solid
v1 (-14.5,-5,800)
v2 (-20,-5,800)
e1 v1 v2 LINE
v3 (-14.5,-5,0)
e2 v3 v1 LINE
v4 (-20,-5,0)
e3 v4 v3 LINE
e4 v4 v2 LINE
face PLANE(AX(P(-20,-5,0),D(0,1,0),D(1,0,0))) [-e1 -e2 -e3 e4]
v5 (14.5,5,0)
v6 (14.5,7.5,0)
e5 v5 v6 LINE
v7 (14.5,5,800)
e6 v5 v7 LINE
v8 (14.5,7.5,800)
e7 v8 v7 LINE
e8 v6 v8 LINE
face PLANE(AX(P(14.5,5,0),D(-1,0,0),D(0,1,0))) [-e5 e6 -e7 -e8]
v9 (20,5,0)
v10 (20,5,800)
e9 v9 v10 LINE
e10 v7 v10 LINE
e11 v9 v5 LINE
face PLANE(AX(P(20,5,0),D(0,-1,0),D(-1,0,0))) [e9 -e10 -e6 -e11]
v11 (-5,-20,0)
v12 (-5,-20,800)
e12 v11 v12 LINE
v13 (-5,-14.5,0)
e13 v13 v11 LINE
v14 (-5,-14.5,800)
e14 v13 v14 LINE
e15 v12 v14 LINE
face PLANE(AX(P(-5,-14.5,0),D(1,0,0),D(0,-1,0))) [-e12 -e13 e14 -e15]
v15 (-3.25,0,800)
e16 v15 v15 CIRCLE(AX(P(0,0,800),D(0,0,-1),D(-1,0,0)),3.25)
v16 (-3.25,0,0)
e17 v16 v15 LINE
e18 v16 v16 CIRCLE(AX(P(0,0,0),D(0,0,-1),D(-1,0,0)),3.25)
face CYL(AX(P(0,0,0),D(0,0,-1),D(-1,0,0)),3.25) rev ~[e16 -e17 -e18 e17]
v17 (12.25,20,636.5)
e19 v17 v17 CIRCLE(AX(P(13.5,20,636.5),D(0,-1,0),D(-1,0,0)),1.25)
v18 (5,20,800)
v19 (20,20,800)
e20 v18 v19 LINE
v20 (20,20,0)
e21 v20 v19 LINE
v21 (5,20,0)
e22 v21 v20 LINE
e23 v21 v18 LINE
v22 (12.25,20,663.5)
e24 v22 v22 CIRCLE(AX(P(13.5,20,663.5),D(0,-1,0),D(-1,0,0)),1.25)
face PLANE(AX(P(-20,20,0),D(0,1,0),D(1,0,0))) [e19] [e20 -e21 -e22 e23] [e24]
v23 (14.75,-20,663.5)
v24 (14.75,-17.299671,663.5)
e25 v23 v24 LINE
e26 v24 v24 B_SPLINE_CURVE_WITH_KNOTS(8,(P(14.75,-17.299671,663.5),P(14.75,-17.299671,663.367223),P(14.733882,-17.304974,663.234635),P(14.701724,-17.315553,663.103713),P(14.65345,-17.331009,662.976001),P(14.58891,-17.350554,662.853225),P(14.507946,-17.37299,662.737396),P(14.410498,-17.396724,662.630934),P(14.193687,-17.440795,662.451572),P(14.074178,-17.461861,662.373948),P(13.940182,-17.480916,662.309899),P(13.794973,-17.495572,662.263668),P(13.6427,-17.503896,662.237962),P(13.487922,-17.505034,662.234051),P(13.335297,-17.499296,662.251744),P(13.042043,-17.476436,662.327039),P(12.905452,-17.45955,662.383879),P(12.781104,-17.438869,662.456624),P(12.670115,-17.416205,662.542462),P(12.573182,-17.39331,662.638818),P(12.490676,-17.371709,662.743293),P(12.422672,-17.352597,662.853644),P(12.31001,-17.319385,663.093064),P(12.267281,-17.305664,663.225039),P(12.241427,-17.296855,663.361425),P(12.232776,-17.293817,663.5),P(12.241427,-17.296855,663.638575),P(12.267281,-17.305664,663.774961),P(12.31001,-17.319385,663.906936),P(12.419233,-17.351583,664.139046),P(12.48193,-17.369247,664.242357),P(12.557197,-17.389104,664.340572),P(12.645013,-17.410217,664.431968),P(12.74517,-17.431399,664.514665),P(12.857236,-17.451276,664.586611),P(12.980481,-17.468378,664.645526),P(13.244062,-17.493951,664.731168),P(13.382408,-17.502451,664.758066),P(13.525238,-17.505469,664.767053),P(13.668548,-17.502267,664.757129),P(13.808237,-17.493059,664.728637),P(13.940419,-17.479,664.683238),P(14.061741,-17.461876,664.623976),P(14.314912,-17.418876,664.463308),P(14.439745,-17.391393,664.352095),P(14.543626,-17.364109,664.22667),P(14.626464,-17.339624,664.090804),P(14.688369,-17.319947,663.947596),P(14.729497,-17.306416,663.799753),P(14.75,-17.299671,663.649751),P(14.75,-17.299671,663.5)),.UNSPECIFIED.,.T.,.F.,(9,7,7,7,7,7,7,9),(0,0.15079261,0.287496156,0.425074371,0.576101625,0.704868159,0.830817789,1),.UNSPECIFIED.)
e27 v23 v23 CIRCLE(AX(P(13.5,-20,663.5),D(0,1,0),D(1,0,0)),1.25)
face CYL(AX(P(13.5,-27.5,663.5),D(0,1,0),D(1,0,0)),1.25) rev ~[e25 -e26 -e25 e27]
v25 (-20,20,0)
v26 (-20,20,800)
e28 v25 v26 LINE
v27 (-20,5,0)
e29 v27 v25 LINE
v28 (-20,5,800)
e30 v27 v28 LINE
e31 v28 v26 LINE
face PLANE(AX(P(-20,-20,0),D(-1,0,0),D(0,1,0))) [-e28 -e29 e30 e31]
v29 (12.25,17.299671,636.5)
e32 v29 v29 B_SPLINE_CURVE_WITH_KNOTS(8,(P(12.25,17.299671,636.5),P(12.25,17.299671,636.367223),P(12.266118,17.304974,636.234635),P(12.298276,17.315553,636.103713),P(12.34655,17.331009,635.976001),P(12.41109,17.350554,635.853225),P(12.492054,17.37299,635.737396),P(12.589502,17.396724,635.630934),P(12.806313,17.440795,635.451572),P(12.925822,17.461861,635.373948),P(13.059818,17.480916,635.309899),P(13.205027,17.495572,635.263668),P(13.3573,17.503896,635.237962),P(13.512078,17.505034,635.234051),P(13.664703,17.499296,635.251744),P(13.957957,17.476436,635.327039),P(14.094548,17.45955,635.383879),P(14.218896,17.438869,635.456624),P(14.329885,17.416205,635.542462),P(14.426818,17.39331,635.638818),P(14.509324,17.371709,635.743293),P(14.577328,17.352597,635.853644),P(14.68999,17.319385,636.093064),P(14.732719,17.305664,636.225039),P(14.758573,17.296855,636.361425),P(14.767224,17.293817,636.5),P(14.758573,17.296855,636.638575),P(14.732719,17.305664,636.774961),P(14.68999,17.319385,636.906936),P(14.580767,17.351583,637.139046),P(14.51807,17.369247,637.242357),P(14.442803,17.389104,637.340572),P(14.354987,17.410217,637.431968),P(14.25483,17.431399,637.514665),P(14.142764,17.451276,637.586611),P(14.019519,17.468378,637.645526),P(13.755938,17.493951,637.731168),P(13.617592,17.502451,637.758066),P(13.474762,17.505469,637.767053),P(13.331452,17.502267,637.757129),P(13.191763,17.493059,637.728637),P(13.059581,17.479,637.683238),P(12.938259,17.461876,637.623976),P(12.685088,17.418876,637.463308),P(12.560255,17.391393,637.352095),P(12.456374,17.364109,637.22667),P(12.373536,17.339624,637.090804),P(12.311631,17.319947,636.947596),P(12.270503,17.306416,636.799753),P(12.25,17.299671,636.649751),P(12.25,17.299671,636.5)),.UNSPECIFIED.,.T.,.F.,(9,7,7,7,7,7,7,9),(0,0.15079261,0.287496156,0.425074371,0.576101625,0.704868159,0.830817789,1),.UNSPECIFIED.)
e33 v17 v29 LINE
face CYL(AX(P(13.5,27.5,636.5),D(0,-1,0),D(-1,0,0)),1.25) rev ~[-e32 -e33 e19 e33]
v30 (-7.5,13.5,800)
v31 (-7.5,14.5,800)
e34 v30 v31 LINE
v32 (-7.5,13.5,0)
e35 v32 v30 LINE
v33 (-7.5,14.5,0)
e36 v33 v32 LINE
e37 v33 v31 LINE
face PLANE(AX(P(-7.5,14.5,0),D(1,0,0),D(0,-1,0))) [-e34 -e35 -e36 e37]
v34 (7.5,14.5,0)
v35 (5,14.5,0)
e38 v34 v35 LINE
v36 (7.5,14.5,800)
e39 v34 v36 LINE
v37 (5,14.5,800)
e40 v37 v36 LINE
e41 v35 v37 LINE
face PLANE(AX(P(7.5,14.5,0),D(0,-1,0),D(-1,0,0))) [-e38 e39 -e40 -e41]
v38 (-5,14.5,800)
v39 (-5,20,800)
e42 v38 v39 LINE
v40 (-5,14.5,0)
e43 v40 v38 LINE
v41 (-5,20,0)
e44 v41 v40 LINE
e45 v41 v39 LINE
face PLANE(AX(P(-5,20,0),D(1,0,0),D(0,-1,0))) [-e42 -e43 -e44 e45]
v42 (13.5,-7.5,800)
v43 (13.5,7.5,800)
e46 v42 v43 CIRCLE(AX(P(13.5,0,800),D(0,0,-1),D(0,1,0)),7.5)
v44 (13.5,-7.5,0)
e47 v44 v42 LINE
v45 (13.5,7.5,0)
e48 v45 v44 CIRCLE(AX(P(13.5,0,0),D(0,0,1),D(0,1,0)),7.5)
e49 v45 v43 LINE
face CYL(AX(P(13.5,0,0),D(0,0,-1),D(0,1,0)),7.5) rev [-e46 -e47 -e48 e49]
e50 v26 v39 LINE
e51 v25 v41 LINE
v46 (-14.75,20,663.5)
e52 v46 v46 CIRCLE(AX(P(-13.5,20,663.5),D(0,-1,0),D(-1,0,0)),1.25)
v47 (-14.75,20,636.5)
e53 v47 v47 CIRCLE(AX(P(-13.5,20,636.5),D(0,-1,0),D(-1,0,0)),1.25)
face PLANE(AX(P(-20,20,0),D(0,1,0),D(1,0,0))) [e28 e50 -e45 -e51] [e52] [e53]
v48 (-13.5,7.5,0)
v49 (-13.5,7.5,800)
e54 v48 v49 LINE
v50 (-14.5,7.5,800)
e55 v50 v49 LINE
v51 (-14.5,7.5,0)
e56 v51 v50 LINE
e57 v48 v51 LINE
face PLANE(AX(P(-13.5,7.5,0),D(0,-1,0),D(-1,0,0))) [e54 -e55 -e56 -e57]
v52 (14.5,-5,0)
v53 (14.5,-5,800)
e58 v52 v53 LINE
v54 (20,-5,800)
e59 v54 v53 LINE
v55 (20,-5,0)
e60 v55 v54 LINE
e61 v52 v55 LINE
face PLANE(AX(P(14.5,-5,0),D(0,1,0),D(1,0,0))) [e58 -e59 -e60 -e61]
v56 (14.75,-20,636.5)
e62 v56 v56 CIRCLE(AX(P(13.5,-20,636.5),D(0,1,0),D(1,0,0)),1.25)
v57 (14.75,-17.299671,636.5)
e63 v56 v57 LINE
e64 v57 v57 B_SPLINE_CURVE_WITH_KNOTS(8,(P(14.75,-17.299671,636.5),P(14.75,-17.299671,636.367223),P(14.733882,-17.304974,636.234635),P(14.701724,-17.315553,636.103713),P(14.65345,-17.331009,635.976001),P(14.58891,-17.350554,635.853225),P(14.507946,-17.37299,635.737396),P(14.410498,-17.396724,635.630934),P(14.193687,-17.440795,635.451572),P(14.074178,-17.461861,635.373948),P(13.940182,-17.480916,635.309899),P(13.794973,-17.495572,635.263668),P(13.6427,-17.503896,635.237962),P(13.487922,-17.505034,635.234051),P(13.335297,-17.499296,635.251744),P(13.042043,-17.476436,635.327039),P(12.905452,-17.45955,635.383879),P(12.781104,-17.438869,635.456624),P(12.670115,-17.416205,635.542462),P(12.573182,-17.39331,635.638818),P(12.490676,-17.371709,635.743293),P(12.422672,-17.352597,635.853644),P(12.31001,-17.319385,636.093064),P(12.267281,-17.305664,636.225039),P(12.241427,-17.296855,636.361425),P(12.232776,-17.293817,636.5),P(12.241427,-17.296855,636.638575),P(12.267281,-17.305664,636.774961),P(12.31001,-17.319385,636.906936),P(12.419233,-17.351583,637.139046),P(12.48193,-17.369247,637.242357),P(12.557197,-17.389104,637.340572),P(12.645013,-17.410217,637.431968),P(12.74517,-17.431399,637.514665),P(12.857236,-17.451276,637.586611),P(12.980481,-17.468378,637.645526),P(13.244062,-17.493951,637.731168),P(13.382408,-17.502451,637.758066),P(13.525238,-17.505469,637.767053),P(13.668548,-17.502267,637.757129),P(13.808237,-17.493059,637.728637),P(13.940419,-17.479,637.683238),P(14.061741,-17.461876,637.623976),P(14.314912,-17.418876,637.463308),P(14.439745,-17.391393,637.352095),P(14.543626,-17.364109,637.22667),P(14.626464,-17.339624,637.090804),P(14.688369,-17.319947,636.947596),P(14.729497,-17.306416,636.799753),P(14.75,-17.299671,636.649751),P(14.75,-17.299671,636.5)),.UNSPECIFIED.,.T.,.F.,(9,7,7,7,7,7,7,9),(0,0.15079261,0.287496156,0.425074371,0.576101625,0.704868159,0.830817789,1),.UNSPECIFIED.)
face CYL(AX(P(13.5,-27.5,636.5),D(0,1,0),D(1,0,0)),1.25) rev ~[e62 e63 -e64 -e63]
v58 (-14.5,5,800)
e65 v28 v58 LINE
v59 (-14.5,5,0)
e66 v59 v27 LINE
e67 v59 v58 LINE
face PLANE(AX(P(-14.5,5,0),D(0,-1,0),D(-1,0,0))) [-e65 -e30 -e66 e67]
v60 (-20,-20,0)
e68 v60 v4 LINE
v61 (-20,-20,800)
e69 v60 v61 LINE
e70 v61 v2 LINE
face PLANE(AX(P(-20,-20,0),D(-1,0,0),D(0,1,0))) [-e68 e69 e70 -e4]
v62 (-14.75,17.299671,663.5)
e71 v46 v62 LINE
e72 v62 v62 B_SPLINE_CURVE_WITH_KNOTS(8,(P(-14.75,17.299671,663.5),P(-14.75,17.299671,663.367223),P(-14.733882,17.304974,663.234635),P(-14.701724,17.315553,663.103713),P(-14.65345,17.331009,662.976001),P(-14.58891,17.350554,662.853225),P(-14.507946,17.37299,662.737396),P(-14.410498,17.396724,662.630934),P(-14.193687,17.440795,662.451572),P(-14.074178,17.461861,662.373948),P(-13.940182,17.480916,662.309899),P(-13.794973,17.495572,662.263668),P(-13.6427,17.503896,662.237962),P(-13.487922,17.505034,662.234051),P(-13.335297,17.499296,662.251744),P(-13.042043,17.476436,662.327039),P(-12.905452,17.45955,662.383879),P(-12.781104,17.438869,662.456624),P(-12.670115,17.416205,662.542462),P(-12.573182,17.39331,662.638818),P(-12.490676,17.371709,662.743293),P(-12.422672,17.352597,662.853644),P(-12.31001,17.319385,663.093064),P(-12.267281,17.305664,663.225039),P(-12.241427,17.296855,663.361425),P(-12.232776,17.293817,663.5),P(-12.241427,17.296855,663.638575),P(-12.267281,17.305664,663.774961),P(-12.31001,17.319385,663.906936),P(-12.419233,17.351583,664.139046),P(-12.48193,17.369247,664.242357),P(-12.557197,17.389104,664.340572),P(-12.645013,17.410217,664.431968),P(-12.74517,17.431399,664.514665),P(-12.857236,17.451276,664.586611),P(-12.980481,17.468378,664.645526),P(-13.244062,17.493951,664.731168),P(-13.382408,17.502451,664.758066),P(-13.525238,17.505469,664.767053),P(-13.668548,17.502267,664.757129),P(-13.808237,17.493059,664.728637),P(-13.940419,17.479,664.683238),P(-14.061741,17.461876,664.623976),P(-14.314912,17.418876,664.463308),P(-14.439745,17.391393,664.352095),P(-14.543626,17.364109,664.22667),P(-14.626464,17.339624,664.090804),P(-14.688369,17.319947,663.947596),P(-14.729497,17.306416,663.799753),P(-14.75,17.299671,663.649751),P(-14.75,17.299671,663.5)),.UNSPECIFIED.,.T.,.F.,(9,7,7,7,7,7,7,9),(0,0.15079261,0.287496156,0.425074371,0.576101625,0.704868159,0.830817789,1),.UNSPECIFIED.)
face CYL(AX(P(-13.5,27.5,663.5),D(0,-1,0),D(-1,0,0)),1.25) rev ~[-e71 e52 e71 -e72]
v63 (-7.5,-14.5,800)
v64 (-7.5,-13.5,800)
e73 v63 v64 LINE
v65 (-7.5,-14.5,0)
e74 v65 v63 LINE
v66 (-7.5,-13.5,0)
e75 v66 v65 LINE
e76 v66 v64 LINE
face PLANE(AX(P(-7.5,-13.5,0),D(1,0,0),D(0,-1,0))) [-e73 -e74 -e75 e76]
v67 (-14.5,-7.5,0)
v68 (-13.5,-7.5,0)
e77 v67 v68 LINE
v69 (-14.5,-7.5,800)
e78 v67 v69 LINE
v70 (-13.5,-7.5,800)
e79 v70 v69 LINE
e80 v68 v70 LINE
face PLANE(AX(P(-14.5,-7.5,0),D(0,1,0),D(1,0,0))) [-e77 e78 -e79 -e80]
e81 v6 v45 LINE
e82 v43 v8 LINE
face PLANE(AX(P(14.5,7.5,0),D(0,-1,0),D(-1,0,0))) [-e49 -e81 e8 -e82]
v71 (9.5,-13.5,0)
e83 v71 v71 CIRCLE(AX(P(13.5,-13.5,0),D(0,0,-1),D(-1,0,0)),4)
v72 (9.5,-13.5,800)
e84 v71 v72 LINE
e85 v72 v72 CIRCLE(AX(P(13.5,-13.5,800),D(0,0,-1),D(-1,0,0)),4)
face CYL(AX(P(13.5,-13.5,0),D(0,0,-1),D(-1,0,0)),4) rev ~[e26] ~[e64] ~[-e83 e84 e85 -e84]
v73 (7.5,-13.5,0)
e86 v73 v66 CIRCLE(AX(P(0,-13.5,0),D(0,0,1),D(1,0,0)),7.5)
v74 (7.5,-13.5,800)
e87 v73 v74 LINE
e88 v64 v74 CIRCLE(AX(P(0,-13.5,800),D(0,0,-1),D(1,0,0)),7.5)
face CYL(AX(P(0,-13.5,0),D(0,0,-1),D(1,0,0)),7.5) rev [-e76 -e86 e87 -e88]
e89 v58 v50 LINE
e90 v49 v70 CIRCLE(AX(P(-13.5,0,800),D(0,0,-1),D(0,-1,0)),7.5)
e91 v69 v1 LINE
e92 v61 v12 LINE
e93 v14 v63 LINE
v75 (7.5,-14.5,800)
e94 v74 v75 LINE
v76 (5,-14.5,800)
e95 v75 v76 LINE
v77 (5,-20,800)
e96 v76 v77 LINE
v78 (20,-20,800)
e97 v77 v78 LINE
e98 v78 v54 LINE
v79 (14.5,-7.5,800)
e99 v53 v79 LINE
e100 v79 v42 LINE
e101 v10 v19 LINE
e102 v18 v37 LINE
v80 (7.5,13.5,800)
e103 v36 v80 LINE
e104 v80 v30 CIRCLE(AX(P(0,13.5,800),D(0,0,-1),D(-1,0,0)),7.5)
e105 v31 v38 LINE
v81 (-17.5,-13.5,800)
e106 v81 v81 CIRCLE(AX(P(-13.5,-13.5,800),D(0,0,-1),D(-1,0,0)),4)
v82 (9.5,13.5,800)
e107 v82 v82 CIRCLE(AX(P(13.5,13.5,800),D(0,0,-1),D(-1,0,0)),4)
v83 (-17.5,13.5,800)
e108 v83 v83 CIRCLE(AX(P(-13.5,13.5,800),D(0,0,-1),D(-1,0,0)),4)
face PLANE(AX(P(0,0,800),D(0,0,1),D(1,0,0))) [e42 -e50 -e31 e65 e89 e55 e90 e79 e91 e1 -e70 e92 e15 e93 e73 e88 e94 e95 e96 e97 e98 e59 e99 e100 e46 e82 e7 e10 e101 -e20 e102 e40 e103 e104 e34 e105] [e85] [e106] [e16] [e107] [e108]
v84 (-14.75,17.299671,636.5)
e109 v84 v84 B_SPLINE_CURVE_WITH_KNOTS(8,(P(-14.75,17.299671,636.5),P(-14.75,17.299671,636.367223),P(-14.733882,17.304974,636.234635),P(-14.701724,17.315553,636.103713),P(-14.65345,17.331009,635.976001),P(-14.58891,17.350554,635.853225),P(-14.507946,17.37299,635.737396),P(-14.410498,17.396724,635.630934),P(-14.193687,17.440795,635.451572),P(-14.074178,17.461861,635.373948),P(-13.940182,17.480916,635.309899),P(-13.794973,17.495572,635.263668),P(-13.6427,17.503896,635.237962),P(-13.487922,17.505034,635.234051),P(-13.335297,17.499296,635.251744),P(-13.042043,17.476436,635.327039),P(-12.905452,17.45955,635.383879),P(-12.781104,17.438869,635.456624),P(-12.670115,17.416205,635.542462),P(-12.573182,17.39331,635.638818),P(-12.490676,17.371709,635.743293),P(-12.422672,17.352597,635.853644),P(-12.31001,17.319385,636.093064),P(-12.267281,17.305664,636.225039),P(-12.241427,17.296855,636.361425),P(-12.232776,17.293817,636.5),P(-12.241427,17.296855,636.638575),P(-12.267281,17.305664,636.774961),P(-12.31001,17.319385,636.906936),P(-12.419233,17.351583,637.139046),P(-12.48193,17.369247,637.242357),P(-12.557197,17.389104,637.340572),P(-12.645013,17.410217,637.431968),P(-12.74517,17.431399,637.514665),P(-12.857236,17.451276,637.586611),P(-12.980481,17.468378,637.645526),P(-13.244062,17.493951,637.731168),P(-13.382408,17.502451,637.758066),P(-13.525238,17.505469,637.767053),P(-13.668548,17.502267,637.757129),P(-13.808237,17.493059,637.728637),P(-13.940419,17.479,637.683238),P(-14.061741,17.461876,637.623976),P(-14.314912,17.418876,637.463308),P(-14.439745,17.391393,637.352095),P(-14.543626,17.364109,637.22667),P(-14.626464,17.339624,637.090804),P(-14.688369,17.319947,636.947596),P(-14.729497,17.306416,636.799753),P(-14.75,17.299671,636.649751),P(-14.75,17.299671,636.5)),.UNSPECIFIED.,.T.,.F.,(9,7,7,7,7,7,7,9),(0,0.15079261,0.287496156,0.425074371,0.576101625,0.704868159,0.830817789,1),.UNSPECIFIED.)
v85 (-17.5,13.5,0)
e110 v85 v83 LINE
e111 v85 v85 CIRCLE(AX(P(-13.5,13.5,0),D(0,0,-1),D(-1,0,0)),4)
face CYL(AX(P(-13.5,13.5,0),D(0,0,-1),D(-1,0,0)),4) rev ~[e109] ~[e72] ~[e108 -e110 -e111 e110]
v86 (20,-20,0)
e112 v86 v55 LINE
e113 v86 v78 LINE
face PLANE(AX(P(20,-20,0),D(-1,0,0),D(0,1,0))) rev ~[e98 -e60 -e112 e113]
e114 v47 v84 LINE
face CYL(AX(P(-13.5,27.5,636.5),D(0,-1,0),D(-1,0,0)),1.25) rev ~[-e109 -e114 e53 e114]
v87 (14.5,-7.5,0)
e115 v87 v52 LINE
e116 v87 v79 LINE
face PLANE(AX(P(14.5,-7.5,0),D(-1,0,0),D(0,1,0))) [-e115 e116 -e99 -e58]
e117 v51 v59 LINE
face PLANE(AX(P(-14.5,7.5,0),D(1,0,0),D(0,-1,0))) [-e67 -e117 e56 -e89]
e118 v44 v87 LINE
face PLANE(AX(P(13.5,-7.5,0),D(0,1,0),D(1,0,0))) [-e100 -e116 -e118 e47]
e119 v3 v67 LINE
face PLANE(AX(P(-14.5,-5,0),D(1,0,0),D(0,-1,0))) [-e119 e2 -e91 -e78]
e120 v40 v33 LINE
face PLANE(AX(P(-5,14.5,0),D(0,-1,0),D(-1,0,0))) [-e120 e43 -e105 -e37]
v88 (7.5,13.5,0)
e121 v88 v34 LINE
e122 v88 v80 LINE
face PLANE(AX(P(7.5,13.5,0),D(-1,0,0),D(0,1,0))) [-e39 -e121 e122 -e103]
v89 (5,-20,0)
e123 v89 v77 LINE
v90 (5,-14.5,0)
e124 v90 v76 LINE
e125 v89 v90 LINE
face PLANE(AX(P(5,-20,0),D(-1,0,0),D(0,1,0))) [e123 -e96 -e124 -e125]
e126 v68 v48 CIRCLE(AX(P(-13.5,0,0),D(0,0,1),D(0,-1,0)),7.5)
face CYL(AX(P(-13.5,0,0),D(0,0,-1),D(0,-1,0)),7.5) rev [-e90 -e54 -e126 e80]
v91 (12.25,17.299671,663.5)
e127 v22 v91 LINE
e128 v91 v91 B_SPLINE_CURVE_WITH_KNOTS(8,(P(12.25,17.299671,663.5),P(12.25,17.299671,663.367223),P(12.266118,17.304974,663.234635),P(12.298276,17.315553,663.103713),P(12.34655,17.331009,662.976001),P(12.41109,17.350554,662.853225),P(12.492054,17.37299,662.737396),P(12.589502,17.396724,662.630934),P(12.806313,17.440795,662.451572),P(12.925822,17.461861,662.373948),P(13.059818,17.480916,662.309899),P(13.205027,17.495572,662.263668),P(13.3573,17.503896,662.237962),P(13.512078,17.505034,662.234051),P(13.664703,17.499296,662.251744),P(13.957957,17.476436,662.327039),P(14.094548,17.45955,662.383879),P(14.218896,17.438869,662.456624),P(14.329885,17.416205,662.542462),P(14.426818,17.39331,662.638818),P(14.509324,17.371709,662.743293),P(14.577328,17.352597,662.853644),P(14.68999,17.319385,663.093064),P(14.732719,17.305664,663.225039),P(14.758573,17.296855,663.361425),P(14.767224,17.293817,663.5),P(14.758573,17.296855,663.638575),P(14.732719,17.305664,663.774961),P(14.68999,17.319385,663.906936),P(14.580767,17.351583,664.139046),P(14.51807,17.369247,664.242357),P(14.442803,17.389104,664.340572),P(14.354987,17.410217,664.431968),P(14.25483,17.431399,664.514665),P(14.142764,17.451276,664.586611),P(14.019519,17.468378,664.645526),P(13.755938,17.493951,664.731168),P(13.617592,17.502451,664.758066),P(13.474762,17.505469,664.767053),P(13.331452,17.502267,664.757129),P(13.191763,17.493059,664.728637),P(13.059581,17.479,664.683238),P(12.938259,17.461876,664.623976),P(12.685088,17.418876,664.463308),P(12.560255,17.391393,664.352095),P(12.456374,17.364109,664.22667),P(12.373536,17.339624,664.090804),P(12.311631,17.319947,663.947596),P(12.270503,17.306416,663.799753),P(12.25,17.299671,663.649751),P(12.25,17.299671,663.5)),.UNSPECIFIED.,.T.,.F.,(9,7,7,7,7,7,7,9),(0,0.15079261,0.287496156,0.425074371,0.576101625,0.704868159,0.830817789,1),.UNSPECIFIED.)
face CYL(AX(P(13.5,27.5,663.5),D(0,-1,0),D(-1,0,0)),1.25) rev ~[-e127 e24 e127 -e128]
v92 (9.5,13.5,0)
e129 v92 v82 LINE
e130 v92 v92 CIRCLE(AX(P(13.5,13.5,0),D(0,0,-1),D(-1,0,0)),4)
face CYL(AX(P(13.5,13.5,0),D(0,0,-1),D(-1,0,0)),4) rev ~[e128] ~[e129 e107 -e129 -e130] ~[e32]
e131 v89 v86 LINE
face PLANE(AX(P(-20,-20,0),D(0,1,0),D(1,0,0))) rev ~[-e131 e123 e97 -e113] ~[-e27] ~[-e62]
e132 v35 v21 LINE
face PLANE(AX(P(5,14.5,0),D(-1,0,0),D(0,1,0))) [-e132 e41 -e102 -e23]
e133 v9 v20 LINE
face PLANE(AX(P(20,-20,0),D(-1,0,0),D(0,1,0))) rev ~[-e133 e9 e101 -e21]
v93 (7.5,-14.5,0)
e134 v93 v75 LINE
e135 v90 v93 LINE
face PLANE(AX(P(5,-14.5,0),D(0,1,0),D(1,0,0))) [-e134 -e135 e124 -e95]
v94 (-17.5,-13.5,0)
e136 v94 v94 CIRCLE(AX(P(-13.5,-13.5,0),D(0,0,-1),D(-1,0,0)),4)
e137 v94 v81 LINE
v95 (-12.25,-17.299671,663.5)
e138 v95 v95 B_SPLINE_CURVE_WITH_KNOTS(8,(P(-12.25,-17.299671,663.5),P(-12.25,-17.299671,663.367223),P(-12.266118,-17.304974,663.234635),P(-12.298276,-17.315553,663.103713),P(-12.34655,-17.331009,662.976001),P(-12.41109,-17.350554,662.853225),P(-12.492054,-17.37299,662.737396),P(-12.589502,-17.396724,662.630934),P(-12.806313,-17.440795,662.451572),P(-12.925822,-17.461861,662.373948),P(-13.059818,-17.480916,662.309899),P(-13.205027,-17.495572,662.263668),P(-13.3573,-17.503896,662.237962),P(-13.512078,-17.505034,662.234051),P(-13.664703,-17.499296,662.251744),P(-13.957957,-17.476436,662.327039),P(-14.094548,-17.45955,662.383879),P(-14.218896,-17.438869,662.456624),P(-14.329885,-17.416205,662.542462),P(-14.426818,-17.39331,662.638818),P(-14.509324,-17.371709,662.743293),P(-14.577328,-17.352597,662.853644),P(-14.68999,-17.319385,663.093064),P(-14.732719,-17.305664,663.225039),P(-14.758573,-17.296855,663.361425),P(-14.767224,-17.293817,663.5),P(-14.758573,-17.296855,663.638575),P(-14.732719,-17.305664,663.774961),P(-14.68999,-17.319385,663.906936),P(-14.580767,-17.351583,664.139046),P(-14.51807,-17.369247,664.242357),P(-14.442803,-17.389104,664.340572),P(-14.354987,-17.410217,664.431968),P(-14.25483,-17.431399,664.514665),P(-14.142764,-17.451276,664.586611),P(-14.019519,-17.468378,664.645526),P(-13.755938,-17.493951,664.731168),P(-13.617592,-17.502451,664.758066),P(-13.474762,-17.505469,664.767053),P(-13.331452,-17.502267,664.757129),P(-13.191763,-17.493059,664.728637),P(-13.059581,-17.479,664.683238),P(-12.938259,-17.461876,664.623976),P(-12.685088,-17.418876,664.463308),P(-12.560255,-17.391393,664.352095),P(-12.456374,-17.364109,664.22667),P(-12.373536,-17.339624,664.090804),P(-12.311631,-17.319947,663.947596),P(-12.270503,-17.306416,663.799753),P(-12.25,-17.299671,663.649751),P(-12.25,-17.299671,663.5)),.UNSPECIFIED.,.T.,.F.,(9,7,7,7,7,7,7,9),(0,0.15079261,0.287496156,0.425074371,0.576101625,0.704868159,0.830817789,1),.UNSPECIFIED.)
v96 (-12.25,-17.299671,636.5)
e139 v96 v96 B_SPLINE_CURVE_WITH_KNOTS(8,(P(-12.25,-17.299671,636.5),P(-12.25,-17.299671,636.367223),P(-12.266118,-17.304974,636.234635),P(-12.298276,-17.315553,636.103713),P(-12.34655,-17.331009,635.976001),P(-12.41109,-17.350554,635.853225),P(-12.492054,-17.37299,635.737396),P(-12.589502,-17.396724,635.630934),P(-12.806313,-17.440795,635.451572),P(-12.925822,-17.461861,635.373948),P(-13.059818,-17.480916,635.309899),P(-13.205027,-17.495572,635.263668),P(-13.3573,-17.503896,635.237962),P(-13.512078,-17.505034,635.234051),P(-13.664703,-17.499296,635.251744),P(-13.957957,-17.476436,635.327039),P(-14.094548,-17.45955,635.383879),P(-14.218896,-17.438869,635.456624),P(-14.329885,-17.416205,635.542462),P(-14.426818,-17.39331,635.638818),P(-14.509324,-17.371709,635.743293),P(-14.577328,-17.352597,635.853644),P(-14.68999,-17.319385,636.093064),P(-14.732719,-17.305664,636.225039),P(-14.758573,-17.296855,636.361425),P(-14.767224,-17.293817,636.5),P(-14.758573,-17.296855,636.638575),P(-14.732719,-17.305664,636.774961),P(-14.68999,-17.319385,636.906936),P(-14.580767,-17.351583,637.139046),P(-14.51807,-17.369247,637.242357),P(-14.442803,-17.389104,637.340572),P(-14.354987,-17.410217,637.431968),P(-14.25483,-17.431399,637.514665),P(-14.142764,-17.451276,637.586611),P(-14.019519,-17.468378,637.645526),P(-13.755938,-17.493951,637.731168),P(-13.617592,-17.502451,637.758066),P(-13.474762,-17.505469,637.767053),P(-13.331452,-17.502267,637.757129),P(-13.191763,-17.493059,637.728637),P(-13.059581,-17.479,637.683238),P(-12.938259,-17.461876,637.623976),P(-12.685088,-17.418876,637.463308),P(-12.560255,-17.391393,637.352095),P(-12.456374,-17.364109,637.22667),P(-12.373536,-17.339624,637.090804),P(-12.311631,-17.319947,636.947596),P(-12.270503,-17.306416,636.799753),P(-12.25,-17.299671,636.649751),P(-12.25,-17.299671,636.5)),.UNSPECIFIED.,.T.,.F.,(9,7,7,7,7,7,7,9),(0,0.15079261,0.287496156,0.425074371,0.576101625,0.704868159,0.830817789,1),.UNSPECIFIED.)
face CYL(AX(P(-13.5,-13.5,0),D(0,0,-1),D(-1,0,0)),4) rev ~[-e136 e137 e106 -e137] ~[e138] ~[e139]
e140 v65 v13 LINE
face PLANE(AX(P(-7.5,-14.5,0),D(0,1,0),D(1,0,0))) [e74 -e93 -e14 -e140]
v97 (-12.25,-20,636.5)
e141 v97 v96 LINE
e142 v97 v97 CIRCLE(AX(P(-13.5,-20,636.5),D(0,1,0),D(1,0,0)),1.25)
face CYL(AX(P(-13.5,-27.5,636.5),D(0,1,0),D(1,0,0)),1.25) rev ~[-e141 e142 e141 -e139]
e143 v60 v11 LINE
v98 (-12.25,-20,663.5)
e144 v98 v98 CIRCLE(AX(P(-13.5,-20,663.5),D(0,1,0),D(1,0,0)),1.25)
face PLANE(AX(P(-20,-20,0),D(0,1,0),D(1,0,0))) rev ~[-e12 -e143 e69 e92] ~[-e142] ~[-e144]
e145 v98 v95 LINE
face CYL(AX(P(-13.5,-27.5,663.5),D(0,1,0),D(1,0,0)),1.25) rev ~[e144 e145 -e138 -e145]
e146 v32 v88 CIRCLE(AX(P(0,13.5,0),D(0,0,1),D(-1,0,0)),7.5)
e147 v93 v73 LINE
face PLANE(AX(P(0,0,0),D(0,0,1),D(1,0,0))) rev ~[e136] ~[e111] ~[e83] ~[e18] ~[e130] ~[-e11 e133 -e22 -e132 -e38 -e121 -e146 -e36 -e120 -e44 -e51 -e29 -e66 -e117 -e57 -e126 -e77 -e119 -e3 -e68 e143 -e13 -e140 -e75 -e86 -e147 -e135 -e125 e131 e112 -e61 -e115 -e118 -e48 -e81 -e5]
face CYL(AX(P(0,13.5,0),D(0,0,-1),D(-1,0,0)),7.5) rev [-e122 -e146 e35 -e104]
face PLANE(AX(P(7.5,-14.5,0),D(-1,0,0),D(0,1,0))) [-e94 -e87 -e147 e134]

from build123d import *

# Parameters (mm, degrees)
SKETCH_1_W          = 40
SKETCH_1_H          = 40
EXTRUDE_1_DEPTH     = 800
SKETCH_2_R          = 3.25
SKETCH_2_R_2        = 4
CUT_EXTRUDE_1_DEPTH = 801
M3X0_5_1_D          = 2.5
M3X0_5_1_DEPTH      = 7.5
M3X0_5_1_TIP        = 0.751075774
M3X0_5_2_D          = 2.5
M3X0_5_2_DEPTH      = 7.5
M3X0_5_2_TIP        = 0.751075774


with BuildPart() as part:
    # 草圖1 → 伸長1 (new body)
    with BuildSketch(Plane.XY):
        Rectangle(SKETCH_1_W, SKETCH_1_H)
    extrude(amount=EXTRUDE_1_DEPTH)

    # 草圖2 → 除料-伸長1 (cut, through all)
    with BuildSketch(Plane(origin=(0, 0, 0), x_dir=(-1, 0, 0), z_dir=(0, 0, -1))):
        Circle(SKETCH_2_R)
        with Locations((-13.5, 13.5)):
            Circle(SKETCH_2_R_2)
        with Locations((13.5, 13.5)):
            Circle(SKETCH_2_R_2)
        with Locations((-13.5, -13.5)):
            Circle(SKETCH_2_R_2)
        with Locations((13.5, -13.5)):
            Circle(SKETCH_2_R_2)
        with BuildLine():
            Line((5, 14.5), (7.5, 14.5))
            Line((7.5, 14.5), (7.5, 13.5))
            ThreePointArc((7.5, 13.5), (0, 6), (-7.5, 13.5))
            Line((-7.5, 13.5), (-7.5, 14.5))
            Line((-7.5, 14.5), (-5, 14.5))
            Line((-5, 14.5), (-5, 20))
            Line((-5, 20), (5, 20))
            Line((5, 20), (5, 14.5))
        make_face()
        with BuildLine():
            Line((14.5, -5), (14.5, -7.5))
            Line((14.5, -7.5), (13.5, -7.5))
            ThreePointArc((13.5, -7.5), (6, 0), (13.5, 7.5))
            Line((13.5, 7.5), (14.5, 7.5))
            Line((14.5, 7.5), (14.5, 5))
            Line((14.5, 5), (20, 5))
            Line((20, 5), (20, -5))
            Line((20, -5), (14.5, -5))
        make_face()
        with BuildLine():
            Line((-5, -14.5), (-7.5, -14.5))
            Line((-7.5, -14.5), (-7.5, -13.5))
            ThreePointArc((-7.5, -13.5), (0, -6), (7.5, -13.5))
            Line((7.5, -13.5), (7.5, -14.5))
            Line((7.5, -14.5), (5, -14.5))
            Line((5, -14.5), (5, -20))
            Line((5, -20), (-5, -20))
            Line((-5, -20), (-5, -14.5))
        make_face()
        with BuildLine():
            Line((-14.5, 5), (-14.5, 7.5))
            Line((-14.5, 7.5), (-13.5, 7.5))
            ThreePointArc((-13.5, 7.5), (-6, 0), (-13.5, -7.5))
            Line((-13.5, -7.5), (-14.5, -7.5))
            Line((-14.5, -7.5), (-14.5, -5))
            Line((-14.5, -5), (-20, -5))
            Line((-20, -5), (-20, 5))
            Line((-20, 5), (-14.5, 5))
        make_face()
    extrude(amount=-CUT_EXTRUDE_1_DEPTH, mode=Mode.SUBTRACT)

    # M3x0.5 螺紋孔1
    with Locations(Plane(origin=(0, 20, 0), x_dir=(1, 0, 0), z_dir=(0, 1, 0))):
        with Locations((13.5, -663.5), (13.5, -636.5), (-13.5, -636.5), (-13.5, -663.5)):
            Hole(M3X0_5_1_D / 2, depth=M3X0_5_1_DEPTH)
            with Locations((0, 0, -(M3X0_5_1_DEPTH + M3X0_5_1_TIP / 2))):  # 118° drill point
                Cone(0, M3X0_5_1_D / 2, M3X0_5_1_TIP, mode=Mode.SUBTRACT)

    # M3x0.5 螺紋孔2
    with Locations(Plane(origin=(0, -20, 0), x_dir=(-1, 0, 0), z_dir=(0, -1, 0))):
        with Locations((13.5, -636.5), (13.5, -663.5), (-13.5, -663.5), (-13.5, -636.5)):
            Hole(M3X0_5_2_D / 2, depth=M3X0_5_2_DEPTH)
            with Locations((0, 0, -(M3X0_5_2_DEPTH + M3X0_5_2_TIP / 2))):  # 118° drill point
                Cone(0, M3X0_5_2_D / 2, M3X0_5_2_TIP, mode=Mode.SUBTRACT)


solid = part.part
